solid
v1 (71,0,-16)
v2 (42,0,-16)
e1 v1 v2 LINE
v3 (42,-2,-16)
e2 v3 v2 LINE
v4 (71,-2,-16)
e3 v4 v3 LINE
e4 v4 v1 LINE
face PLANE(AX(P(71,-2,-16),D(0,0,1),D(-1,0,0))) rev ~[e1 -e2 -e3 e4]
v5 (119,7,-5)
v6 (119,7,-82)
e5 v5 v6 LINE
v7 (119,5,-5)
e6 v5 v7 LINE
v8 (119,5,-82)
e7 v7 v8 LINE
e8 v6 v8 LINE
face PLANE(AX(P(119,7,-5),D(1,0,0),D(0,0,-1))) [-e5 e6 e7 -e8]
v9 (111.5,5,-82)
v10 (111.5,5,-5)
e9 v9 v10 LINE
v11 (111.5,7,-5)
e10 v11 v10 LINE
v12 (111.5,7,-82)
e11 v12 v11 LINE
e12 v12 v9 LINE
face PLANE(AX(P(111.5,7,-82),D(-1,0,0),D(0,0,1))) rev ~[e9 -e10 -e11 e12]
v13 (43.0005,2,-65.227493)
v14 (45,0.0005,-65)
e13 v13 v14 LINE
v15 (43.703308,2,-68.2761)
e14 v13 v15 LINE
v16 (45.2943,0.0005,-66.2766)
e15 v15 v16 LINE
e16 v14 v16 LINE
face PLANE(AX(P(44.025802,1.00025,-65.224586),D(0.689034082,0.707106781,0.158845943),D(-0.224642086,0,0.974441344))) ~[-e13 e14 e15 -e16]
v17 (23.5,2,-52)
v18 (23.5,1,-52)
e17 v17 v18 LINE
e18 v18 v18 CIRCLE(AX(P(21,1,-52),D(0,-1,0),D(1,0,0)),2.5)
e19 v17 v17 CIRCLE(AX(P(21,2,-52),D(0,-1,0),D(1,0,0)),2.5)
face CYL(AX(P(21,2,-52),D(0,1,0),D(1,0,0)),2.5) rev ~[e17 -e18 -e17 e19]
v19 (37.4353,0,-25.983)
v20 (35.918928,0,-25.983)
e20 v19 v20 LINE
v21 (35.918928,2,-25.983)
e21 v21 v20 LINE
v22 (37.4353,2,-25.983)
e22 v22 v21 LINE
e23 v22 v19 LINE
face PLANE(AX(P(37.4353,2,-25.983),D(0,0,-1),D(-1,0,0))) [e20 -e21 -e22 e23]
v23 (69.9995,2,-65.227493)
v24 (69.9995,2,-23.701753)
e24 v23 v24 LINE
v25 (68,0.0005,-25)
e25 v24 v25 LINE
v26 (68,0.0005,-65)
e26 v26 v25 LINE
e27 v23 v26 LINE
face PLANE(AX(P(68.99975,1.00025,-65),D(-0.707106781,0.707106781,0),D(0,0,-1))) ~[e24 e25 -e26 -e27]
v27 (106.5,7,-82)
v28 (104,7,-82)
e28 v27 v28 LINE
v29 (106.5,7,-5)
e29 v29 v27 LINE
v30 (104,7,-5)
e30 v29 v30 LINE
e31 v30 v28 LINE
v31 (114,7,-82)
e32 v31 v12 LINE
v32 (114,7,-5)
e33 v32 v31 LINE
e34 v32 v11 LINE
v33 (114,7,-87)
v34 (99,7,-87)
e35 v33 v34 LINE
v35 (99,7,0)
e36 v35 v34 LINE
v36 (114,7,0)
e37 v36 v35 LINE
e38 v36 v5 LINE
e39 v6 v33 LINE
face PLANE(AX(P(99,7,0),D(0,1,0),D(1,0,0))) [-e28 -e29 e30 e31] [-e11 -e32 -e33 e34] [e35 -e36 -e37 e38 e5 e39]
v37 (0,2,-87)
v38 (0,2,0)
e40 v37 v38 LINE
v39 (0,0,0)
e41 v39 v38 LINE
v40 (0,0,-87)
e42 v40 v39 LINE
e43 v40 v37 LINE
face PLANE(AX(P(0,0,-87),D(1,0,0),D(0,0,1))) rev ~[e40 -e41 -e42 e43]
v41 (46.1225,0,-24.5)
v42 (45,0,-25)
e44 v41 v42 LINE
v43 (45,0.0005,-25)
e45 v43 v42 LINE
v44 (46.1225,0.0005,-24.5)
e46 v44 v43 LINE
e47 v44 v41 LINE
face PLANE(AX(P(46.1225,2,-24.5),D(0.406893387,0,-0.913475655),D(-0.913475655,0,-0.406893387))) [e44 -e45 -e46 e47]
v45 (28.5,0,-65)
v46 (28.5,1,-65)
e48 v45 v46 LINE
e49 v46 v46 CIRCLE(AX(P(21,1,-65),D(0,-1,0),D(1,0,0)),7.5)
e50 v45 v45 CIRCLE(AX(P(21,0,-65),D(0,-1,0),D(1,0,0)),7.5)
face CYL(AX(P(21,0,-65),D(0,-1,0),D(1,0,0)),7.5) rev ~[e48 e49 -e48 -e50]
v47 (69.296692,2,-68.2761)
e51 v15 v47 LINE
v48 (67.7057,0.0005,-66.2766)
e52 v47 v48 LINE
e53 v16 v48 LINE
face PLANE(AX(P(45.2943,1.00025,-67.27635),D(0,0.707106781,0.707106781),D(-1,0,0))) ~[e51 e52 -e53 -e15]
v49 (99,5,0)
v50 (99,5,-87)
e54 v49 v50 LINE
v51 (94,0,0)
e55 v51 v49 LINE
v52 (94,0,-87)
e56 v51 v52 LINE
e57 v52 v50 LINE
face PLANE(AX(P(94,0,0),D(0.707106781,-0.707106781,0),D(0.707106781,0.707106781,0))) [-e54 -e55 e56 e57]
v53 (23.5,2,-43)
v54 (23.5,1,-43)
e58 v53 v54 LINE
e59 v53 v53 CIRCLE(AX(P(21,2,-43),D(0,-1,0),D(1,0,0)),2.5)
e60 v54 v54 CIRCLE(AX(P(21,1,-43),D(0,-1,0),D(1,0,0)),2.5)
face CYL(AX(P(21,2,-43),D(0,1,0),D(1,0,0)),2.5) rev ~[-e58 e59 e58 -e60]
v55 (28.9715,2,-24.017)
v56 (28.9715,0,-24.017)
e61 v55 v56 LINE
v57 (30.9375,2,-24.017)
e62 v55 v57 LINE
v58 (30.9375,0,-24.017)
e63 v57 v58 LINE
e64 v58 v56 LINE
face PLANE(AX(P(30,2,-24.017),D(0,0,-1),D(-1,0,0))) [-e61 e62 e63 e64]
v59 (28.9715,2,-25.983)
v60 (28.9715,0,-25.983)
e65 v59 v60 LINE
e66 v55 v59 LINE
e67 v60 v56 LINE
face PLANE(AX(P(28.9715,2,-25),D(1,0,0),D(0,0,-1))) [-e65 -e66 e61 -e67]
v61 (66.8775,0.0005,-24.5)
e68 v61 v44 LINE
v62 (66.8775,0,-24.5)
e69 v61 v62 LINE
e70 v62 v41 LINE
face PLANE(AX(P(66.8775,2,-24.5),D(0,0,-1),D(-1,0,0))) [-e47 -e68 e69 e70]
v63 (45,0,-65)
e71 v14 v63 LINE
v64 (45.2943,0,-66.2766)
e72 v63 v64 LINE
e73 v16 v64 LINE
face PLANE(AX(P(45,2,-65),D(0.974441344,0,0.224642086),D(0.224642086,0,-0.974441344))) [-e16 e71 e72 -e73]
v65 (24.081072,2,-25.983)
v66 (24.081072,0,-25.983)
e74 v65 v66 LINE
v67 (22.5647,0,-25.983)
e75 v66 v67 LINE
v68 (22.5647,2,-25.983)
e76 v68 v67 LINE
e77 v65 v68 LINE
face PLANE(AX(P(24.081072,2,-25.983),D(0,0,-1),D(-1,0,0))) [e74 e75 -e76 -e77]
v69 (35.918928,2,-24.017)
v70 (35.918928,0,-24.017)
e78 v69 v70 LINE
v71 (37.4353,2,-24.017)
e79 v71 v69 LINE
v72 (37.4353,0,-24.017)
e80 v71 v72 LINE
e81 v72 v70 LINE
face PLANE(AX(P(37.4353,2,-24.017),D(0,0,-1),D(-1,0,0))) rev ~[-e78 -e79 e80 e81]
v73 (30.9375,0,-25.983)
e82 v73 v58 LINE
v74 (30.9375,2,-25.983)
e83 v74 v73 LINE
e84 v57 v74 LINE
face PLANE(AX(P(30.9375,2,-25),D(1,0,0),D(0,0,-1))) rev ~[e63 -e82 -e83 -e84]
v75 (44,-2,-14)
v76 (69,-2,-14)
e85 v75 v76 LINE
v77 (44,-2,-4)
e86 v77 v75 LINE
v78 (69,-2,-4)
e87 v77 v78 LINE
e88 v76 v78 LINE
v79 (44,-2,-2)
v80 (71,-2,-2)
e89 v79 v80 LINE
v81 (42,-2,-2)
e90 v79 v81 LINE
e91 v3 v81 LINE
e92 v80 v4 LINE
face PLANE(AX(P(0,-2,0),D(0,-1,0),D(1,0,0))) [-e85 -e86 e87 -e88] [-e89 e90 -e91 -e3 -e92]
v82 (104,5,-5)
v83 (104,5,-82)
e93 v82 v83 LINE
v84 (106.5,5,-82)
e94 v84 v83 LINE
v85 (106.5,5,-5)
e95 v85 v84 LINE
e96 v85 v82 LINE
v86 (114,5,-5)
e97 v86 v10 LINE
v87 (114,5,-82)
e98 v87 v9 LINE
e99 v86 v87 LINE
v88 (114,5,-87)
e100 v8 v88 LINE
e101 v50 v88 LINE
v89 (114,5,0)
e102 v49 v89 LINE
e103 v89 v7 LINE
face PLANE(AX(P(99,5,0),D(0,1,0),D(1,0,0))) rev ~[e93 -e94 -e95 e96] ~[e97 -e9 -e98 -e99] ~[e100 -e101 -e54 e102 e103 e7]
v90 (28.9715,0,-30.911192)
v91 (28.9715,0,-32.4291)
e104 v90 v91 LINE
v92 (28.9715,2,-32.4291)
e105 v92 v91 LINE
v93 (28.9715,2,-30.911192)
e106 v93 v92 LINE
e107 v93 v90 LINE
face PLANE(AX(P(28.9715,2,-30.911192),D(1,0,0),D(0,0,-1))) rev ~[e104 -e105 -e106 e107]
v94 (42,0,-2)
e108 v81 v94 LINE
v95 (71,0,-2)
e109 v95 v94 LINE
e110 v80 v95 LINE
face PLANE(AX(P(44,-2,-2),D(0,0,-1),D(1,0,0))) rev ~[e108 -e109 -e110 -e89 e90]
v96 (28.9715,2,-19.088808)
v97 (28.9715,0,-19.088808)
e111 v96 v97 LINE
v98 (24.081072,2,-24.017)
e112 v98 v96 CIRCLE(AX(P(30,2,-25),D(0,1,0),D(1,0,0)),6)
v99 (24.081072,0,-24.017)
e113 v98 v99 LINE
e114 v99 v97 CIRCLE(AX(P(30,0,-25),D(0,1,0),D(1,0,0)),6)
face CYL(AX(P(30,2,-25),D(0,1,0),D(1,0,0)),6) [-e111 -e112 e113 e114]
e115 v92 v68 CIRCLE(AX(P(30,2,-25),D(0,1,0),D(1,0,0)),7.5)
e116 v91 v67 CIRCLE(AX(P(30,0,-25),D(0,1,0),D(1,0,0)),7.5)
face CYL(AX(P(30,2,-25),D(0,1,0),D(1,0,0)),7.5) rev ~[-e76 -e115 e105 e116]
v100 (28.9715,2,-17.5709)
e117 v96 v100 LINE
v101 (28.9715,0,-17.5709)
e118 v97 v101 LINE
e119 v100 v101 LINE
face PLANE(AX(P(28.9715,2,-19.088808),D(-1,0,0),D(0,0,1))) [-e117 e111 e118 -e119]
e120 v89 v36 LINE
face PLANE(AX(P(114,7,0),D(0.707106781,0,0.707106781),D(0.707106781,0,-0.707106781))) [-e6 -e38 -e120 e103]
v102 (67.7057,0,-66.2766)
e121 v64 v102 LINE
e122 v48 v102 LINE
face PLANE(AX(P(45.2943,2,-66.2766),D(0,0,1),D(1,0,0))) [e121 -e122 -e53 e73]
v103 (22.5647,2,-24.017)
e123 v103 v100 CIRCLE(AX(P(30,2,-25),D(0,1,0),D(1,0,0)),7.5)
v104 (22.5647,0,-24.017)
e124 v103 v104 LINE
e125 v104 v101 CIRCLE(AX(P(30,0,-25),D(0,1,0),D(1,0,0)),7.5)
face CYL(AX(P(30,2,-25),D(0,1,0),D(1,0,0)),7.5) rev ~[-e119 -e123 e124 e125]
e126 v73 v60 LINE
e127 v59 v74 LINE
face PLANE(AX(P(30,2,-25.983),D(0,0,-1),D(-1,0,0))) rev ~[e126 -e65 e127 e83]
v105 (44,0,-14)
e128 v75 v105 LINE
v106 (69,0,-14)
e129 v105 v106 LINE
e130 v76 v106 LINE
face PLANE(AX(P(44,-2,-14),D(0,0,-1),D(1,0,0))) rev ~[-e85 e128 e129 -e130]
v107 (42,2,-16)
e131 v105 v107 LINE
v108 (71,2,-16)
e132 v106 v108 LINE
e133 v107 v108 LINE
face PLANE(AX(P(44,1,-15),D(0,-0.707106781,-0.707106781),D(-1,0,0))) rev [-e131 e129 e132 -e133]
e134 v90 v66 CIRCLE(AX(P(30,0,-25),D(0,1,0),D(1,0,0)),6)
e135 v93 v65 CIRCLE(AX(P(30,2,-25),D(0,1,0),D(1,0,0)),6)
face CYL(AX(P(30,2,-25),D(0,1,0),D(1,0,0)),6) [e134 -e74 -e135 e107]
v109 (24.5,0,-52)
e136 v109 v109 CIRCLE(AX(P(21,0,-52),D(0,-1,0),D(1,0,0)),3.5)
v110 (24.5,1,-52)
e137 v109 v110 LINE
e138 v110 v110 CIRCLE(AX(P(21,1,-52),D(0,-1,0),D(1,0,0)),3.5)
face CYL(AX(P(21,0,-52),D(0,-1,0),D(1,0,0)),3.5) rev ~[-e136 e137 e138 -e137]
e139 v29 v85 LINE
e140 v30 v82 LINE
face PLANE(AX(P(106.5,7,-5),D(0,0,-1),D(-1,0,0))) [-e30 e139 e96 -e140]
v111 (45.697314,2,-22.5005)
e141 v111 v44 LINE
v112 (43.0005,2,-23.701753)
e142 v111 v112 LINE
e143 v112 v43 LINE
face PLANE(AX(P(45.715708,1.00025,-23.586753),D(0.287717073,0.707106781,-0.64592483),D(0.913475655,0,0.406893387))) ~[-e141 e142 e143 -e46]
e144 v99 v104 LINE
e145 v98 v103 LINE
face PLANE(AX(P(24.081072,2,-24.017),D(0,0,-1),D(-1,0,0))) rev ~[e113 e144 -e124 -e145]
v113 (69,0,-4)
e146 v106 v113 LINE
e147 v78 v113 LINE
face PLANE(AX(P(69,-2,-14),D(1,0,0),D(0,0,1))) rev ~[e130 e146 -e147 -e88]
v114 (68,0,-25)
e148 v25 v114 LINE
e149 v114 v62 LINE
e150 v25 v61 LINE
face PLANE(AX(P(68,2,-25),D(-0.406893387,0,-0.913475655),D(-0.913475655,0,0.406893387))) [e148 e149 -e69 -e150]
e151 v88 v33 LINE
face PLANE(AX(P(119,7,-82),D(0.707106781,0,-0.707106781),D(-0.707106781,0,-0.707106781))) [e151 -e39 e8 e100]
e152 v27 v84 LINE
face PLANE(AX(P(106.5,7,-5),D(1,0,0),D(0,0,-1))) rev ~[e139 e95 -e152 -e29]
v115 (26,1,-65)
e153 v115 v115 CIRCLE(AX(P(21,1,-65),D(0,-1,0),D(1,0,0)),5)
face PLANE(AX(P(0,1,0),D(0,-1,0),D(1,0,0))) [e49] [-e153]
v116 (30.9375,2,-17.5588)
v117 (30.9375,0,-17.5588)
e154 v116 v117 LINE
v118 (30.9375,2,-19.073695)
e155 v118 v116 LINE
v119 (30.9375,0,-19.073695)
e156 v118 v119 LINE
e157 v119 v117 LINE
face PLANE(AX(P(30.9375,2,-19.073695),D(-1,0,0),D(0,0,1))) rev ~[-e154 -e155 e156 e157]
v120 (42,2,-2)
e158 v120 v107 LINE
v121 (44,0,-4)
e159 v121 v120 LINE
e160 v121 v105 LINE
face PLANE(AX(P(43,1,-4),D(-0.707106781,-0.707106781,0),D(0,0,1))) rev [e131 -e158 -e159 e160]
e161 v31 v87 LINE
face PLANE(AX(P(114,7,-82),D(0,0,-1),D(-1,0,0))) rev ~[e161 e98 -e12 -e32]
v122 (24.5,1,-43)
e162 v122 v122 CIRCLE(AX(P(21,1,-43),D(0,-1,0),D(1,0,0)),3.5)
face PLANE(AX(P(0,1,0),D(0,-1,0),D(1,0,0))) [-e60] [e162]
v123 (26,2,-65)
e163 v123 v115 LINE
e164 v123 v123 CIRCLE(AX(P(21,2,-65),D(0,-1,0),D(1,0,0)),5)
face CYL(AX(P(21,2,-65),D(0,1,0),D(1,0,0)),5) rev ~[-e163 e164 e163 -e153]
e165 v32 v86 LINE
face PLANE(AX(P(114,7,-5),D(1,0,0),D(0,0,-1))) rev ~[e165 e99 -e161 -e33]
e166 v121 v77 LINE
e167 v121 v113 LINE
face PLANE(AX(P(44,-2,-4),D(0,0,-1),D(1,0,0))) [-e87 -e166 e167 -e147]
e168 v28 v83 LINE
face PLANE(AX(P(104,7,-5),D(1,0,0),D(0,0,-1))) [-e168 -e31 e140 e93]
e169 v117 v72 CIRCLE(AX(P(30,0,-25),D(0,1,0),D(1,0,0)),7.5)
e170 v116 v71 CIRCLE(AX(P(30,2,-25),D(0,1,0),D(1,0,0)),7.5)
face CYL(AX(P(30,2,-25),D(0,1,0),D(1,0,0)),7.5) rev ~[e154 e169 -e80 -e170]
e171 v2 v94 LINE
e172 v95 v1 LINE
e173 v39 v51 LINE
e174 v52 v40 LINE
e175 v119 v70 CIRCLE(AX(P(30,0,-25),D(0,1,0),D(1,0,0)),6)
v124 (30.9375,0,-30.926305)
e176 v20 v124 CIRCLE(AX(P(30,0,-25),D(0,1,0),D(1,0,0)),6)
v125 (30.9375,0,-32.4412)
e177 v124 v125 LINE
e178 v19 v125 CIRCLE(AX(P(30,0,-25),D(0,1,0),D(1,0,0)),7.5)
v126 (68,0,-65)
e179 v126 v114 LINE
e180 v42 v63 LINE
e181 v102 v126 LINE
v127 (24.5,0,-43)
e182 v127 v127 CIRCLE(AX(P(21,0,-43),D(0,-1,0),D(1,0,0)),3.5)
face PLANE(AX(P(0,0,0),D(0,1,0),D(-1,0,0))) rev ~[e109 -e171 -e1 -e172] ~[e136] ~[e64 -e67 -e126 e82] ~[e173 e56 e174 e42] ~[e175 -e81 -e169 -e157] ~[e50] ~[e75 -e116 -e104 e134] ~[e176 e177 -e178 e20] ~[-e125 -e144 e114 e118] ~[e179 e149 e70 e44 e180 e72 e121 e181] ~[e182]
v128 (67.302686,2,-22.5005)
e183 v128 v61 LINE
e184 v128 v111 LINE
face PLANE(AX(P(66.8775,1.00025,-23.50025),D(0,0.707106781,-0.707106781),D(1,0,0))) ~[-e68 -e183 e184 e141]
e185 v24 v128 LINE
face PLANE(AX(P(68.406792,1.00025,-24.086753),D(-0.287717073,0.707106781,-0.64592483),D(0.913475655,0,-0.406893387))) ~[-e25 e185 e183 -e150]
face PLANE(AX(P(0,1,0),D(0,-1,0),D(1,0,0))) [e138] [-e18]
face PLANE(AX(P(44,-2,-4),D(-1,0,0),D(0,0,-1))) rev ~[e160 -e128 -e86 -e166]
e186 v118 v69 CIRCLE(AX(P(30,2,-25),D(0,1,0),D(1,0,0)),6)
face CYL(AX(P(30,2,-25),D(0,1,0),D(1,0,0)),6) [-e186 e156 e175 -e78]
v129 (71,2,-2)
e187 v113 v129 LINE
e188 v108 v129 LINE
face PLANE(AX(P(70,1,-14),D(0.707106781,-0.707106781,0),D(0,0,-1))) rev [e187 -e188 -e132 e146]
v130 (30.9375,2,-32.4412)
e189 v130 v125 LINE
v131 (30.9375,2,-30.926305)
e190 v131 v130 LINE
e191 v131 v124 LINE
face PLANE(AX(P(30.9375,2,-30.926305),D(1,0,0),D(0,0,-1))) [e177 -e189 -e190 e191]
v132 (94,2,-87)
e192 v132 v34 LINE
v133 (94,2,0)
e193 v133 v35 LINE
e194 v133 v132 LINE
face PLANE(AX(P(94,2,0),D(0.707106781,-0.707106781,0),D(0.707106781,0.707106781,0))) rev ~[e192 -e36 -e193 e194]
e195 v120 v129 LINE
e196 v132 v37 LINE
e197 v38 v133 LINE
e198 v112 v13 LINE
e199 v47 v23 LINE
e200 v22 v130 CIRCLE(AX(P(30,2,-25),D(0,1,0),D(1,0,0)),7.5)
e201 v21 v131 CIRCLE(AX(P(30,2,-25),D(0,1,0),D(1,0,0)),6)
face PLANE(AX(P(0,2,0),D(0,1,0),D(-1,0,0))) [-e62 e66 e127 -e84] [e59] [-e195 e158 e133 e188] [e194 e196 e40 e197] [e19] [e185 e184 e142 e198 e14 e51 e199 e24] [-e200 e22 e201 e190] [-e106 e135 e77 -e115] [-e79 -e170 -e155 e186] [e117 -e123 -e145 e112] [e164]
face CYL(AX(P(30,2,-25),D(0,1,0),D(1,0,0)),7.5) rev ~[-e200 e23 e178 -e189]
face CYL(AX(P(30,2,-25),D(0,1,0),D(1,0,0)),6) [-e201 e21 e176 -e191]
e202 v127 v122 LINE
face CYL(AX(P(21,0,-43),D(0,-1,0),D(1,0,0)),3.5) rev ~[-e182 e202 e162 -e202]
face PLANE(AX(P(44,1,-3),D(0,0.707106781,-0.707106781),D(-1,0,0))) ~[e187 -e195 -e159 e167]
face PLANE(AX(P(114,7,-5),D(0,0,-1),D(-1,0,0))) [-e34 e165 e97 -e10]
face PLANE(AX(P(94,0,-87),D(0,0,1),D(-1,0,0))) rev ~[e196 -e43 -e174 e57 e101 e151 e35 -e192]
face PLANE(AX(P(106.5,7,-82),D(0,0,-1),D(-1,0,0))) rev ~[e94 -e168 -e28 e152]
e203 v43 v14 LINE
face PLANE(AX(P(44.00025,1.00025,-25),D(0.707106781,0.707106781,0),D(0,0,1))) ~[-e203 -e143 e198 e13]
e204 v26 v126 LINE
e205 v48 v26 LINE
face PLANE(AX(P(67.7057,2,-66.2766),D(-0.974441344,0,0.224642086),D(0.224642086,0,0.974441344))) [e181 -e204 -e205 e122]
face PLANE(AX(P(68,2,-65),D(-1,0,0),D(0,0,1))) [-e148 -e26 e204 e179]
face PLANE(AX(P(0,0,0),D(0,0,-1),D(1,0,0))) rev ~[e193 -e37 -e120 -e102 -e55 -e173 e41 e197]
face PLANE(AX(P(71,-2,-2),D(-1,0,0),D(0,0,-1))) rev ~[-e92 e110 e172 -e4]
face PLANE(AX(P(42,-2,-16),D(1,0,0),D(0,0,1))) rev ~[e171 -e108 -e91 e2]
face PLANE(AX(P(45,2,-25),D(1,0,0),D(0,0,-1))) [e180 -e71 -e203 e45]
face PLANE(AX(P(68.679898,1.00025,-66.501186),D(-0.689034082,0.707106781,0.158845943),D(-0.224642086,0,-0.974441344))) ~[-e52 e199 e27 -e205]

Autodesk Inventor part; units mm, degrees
ref_plane "YZ Plane" through (0, 0, 0) normal (1, 0, 0) x (0, 1, 0)
ref_plane "XZ Plane" through (0, 0, 0) normal (0, 1, 0) x (-1, 0, 0)
ref_plane "XY Plane" through (0, 0, 0) normal (0, 0, 1) x (1, 0, 0)
sketch "Sketch1" plane through (0, 0, 0) normal (0, 1, 0) x (-1, 0, 0)
  line L0 (0, 0) -> (-94, 0)
  line L1 (-94, 0) -> (-94, -87)
  line L2 (-94, -87) -> (0, -87)
  line L3 (0, -87) -> (0, 0)
  dimension "d0" = 94
  dimension "d1" = 87
extrude "Extrusion1" add sketch "Sketch1" along normal blind 2
sketch "Sketch2" plane through (0, 0, 0) normal (0, 0, 1) x (1, 0, 0)
  line L0 (94, 2) -> (0, 2) projected
  line L1 (-0.0001, 2) -> (94, 2)
  line L2 (94, 2) -> (99, 7)
  line L3 (94, 2) -> (101.071, 2) construction
  line L4 (94, 0) -> (99, 5)
  line L5 (99, 5) -> (114, 5)
  line L6 (114, 5) -> (114, 7)
  line L7 (114, 7) -> (99, 7)
  line L8 (94, 0) -> (94, 2) projected
  line L9 (94, 0) -> (94, 2)
  point P0 (0, 0)
  dimension "d4" = 7.071
  dimension "d5" = 45
  dimension "d6" = 7.071
  dimension "d7" = 15
  dimension "d8" = 2
extrude "Extrusion2" add sketch "Sketch2" against normal blind 87
sketch "Sketch3" plane through (99, 7, 0) normal (0, 1, 0) x (1, 0, 0)
  line L0 (15, 0) -> (0, 0) projected
  line L1 (15, 0) -> (20, 5)
  line L2 (15, 0) -> (22.071, 0) construction
  line L3 (20, 5) -> (20, 82)
  line L4 (0, 87) -> (15, 87) projected
  line L5 (20, 82) -> (15, 87)
  line L6 (15, 0) -> (15, 87)
  point P0 (-99, 0)
  dimension "d11" = 7.071
  dimension "d12" = 45
  dimension "d13" = 77
extrude "Extrusion3" add sketch "Sketch3" against normal blind 2
sketch "Sketch4" plane through (0, 2, 0) normal (0, 1, 0) x (1, 0, 0)
  line L0 (0, 0) -> (94, 0) projected
  line L1 (0, 0) -> (0, 4)
  line L2 (0, 87) -> (0, 0) projected
  line L3 (0, 4) -> (94, 4)
  line L4 (0, 4) -> (44, 4)
  line L5 (44, 4) -> (44, 14)
  line L6 (44, 14) -> (69, 14)
  line L7 (69, 14) -> (69, 4)
  dimension "d16" = 4
  dimension "d17" = 44
  dimension "d18" = 10
  dimension "d19" = 25
extrude "Extrusion4" cut sketch "Sketch4" against normal blind 10
ref_plane "Work Plane1" through (0, -2, 0) normal (0, -1, 0) x (1, 0, 0)
sketch "Sketch6" plane through (0, -2, 0) normal (0, -1, 0) x (1, 0, 0)
  line L0 (44, -4) -> (44, -14) projected
  line L1 (44, -4) -> (44, -2)
  line L2 (0, 0) -> (94, 0) projected
  line L3 (44, -2) -> (42, -2)
  line L4 (42, -2) -> (71, -2)
  line L5 (71, -2) -> (71, -16)
  line L6 (71, -16) -> (42, -16)
  line L7 (42, -16) -> (42, -2)
  line L8 (44, -4) -> (69, -4) projected
  line L9 (44, -14) -> (69, -14)
  line L10 (69, -14) -> (69, -4)
  line L11 (69, -4) -> (44, -4)
  line L12 (44, -4) -> (44, -14)
  dimension "d23" = 2
  dimension "d24" = 2
  dimension "d25" = 29
  dimension "d26" = 14
extrude "Extrusion5" add sketch "Sketch6" against normal blind 2
chamfer "Chamfer1" distance 2 angle 45 4 edges at (44, 2, -9) (56.5, 2, -14) (69, 2, -9) (56.5, 2, -4)
sketch "Sketch8" plane through (0, 2, 0) normal (0, 1, 0) x (1, 0, 0)
  line L0 (0, 0) -> (0, 25)
  line L1 (0, 87) -> (0, 0) projected
  line L2 (0, 25) -> (30, 25)
  circle A0 centre (30, 25) radius 7.5
  line L3 (30, 17.5) -> (30, 32.5)
  line L4 (37.5, 25) -> (22.5, 25)
  circle A1 centre (30, 25) radius 6
  line L5 (37.5, 25) -> (30, 25)
  line L6 (30, 25) -> (24, 25)
  line L7 (30, 25) -> (33.75, 25)
  line L8 (30, 25) -> (31.875, 25)
  line L9 (30, 25) -> (30.9375, 25)
  line L10 (30.9375, 25) -> (30.9375, 32.4412)
  line L11 (30.9375, 25) -> (28.9715, 25)
  line L12 (28.9715, 25) -> (28.9715, 32.4291)
  line L13 (30.9375, 25) -> (30.9375, 17.5588)
  line L14 (28.9715, 25) -> (28.9715, 17.5709)
  line L15 (30, 25) -> (30, 24.017)
  line L16 (30, 24.017) -> (30, 25.983)
  line L17 (37.4353, 25.983) -> (22.5647, 25.983)
  line L18 (37.4353, 24.017) -> (22.5647, 24.017)
  point P0 (30.9375, 24.017)
  point P1 (30.9375, 25.983)
  point P2 (28.9715, 25.983)
  point P3 (28.9715, 24.017)
  point P4 (24.0811, 25.983)
  point P5 (28.9715, 30.9112)
  point P6 (24.0811, 24.017)
  point P7 (28.9715, 19.0888)
  point P8 (35.9189, 24.017)
  point P9 (30.9375, 19.0737)
  point P10 (35.9189, 25.983)
  point P11 (30.9375, 30.9263)
  dimension "d34" = 15
  dimension "d35" = 12
  dimension "d32" = 25
  dimension "d33" = 30
  dimension "d36" = 1.966
  dimension "d37" = 0.983
  dimension "d38" = 1.966
extrude "Extrusion6" cut sketch "Sketch8" against normal blind 2 contours A0 L12 A1 L17 | L18 A1 L14 A0 | L12 L17 L3 L2 | L2 L3 L18 L14 | L4 L13 L18 L3 | L3 L17 L10 L4 | A0 L17 A1 L10 | L13 A1 L18 A0
sketch "Sketch9" plane through (0, 2, 0) normal (0, 1, 0) x (1, 0, 0)
  line L0 (0, 0) -> (0, 43)
  line L1 (0, 87) -> (0, 0) projected
  line L2 (0, 43) -> (21, 43)
  circle A0 centre (21, 43) radius 2.5
  line L3 (0, 0) -> (0, 52)
  line L4 (0, 52) -> (21, 52)
  circle A1 centre (21, 52) radius 2.5
  line L5 (0, 0) -> (0, 65)
  line L6 (0, 65) -> (21, 65)
  circle A2 centre (21, 65) radius 5
  dimension "d41" = 43
  dimension "d42" = 21
  dimension "d43" = 90
  dimension "d44" = 5
  dimension "d45" = 52
  dimension "d46" = 5
  dimension "d47" = 65
  dimension "d48" = 21
  dimension "d49" = 10
extrude "Extrusion7" cut sketch "Sketch9" against normal blind 2
sketch "Sketch10" plane through (0, 2, 0) normal (0, 1, 0) x (1, 0, 0)
  line L0 (0, 87) -> (0, 0) projected
  line L1 (0, 0) -> (43, 0)
  line L2 (0, 0) -> (94, 0) projected
  line L3 (43, 0) -> (43, 45)
  line L4 (71, 2) -> (42, 2) projected
  line L5 (71, 2) -> (70, 2)
  line L6 (70, 2) -> (70, 45)
  line L7 (70, 45) -> (74, 45) construction
  line L8 (70, 45) -> (70, 65)
  line L9 (70, 45) -> (90, 45) construction
  line L10 (70, 65) -> (67.7057, 68.2766)
  line L11 (67.7057, 68.2766) -> (45.2943, 68.2766)
  line L12 (43, 45) -> (43, 65)
  line L13 (43, 65) -> (45.2943, 68.2766)
  line L14 (70, 45) -> (70, 25)
  line L15 (70, 25) -> (66.8775, 22.5)
  line L16 (43, 45) -> (43, 25)
  line L17 (43, 25) -> (46.1225, 22.5)
  line L18 (46.1225, 22.5) -> (66.8775, 22.5)
  line L19 (66.8775, 22.5) -> (66.8775, 24.5)
  line L20 (70, 25) -> (68, 25)
  line L21 (68, 25) -> (66.8775, 24.5)
  line L22 (70, 65) -> (68, 65)
  line L23 (67.7057, 68.2766) -> (67.7057, 66.2766)
  line L24 (45.2943, 68.2766) -> (45.2943, 66.2766)
  line L25 (43, 65) -> (45, 65)
  line L26 (46.1225, 22.5) -> (46.1225, 24.5)
  line L27 (43, 25) -> (45, 25)
  line L28 (45, 25) -> (45, 65)
  line L29 (45, 65) -> (45.2943, 66.2766)
  line L30 (45.2943, 66.2766) -> (67.7057, 66.2766)
  line L31 (67.7057, 66.2766) -> (68, 65)
  line L32 (68, 65) -> (68, 25)
  line L33 (66.8775, 24.5) -> (46.1225, 24.5)
  line L34 (46.1225, 24.5) -> (45, 25)
  dimension "d52" = 43
  dimension "d53" = 45
  dimension "d54" = 1
  dimension "d58" = 20
  dimension "d59" = 90
  dimension "d60" = 20
  dimension "d61" = 4
  dimension "d62" = 20
  dimension "d63" = 4
  dimension "d64" = 2
  dimension "d65" = 2
  dimension "d66" = 2
  dimension "d67" = 2
  dimension "d68" = 2
  dimension "d69" = 2
  dimension "d70" = 2
  dimension "d71" = 2
extrude "Extrusion8" cut sketch "Sketch10" against normal blind 2 contours L28 L29 L30 L31 L32 L21 L33 L34
chamfer "Chamfer2" distance 2 angle 45 8 edges at (45, 2, -45) (45.5612, 2, -24.75) (56.5, 2, -24.5) (67.4388, 2, -24.75) (68, 2, -45) (56.5, 2, -66.2766) (45.1472, 2, -65.6383) (67.8528, 2, -65.6383)
sketch "Sketch11" plane through (0, 2, 0) normal (0, 1, 0) x (1, 0, 0)
  line L0 (45.6972, 22.5) -> (67.3028, 22.5) projected
  line L1 (67.3028, 22.5) -> (45.6972, 22.5)
  line L2 (43, 23.7014) -> (45.6972, 22.5) projected
  line L3 (45.6972, 22.5) -> (43, 23.7014)
  line L4 (43, 23.7014) -> (45, 25) projected
  line L5 (43, 65.2276) -> (43, 23.7014) projected
  line L6 (43, 23.7014) -> (43, 65.2276)
  line L7 (43.7029, 68.2766) -> (45.2943, 66.2766) projected
  line L8 (43, 65.2276) -> (43.7029, 68.2766)
  line L9 (70, 23.7014) -> (70, 65.2276) projected
  line L10 (43, 23.7014) -> (70, 23.7014)
  line L11 (70, 65.2276) -> (68, 65) projected
  line L12 (43, 65.2276) -> (70, 65.2276)
  line L13 (69.2971, 68.2766) -> (43.7029, 68.2766) projected
  line L14 (43.7029, 68.2766) -> (69.2971, 68.2766)
  line L15 (45.6972, 22.5) -> (67.3028, 22.5)
  line L16 (43, 65.2276) -> (43.7029, 68.2766)
  line L17 (43.7029, 68.2766) -> (69.2971, 68.2766)
  line L18 (46.1225, 24.5) -> (66.8775, 24.5) projected
  line L19 (66.8775, 24.5) -> (46.1225, 24.5)
  line L20 (45.6972, 22.5) -> (43, 23.7014)
  line L21 (43, 23.7014) -> (43, 65.2276)
  line L22 (43, 65.2276) -> (43.7029, 68.2766)
  line L23 (69.2971, 68.2766) -> (43.7029, 68.2766)
  line L24 (70, 65.2276) -> (69.2971, 68.2766) projected
  line L25 (69.2971, 68.2766) -> (70, 65.2276)
  line L26 (67.3028, 22.5) -> (70, 23.7014) projected
  line L27 (67.3028, 22.5) -> (70, 23.7014)
  line L28 (68, 25) -> (68, 65) projected
  line L29 (66.8775, 24.5) -> (68, 25)
  line L30 (68, 65) -> (68, 25)
  line L31 (66.8775, 24.5) -> (46.1225, 24.5)
  line L32 (45, 25) -> (46.1225, 24.5) projected
  line L33 (46.1225, 24.5) -> (45, 25)
  line L34 (45, 25) -> (45, 65)
  line L35 (45, 65) -> (45.2943, 66.2766)
  line L36 (67.7057, 66.2766) -> (45.2943, 66.2766) projected
  line L37 (68, 65) -> (67.7057, 66.2766)
  point P0 (0, 0)
sketch "Sketch12" plane through (99, 7, 0) normal (0, 1, 0) x (1, 0, 0)
  line L0 (20, 5) -> (15, 0) projected
  line L1 (20, 5) -> (0, 5)
  line L2 (0, 0) -> (0, 87) projected
  line L3 (15, 87) -> (20, 82) projected
  line L4 (20, 82) -> (0, 82)
  line L5 (10, 82) -> (10, 5)
  line L6 (0, 5) -> (10, 5)
  line L7 (5, 5) -> (5, 82)
  line L8 (10, 5) -> (20, 5)
  line L9 (15, 5) -> (15, 82)
  line L10 (10, 5) -> (15, 5)
  line L11 (10, 5) -> (5, 5)
  line L12 (7.5, 5) -> (7.5, 82)
  line L13 (12.5, 82) -> (12.5, 5)
  point P0 (-99, 0)
  point P1 (7.5, 5)
  point P2 (5, 5)
  point P3 (12.5, 5)
  point P4 (15, 5)
extrude "Extrusion9" cut sketch "Sketch12" against normal blind 2 contours L1 L13 L4 L9 | L1 L7 L4 L12
sketch "Sketch13" plane through (0, 0, 0) normal (0, -1, 0) x (1, 0, 0)
  circle A0 centre (21, -52) radius 2.5 projected
  circle A1 centre (21, -52) radius 3.5
  circle A2 centre (21, -43) radius 2.5 projected
  circle A3 centre (21, -43) radius 3.5
  circle A4 centre (21, -65) radius 5 projected
  circle A5 centre (21, -65) radius 7.5
  point P0 (0, 0)
  dimension "d79" = 7
  dimension "d80" = 7
  dimension "d81" = 15
extrude "Extrusion10" cut sketch "Sketch13" against normal blind 1
sketch "Sketch14" plane through (0, 0, 0) normal (0, -1, 0) x (1, 0, 0)
  circle A0 centre (21, -65) radius 5 projected
  circle A1 centre (21, -65) radius 5
  point P0 (0, 0)
equation "\"BendRadius\" = Thickness"
equation "\"BendReliefWidth\" = Thickness"
equation "\"BendReliefDepth\" = 0.5 * Thickness"
equation "\"CornerReliefSize\" = 4 * Thickness"
equation "\"MinimumRemnant\" = 2 * Thickness"
equation "\"TransitionRadius\" = BendRadius"
equation "\"JacobiRadiusSize\" = BendRadius"
equation "\"GapSize\" = Thickness"
equation "\"Thickness\" = 0.5"
properties part number "Part2edd"
